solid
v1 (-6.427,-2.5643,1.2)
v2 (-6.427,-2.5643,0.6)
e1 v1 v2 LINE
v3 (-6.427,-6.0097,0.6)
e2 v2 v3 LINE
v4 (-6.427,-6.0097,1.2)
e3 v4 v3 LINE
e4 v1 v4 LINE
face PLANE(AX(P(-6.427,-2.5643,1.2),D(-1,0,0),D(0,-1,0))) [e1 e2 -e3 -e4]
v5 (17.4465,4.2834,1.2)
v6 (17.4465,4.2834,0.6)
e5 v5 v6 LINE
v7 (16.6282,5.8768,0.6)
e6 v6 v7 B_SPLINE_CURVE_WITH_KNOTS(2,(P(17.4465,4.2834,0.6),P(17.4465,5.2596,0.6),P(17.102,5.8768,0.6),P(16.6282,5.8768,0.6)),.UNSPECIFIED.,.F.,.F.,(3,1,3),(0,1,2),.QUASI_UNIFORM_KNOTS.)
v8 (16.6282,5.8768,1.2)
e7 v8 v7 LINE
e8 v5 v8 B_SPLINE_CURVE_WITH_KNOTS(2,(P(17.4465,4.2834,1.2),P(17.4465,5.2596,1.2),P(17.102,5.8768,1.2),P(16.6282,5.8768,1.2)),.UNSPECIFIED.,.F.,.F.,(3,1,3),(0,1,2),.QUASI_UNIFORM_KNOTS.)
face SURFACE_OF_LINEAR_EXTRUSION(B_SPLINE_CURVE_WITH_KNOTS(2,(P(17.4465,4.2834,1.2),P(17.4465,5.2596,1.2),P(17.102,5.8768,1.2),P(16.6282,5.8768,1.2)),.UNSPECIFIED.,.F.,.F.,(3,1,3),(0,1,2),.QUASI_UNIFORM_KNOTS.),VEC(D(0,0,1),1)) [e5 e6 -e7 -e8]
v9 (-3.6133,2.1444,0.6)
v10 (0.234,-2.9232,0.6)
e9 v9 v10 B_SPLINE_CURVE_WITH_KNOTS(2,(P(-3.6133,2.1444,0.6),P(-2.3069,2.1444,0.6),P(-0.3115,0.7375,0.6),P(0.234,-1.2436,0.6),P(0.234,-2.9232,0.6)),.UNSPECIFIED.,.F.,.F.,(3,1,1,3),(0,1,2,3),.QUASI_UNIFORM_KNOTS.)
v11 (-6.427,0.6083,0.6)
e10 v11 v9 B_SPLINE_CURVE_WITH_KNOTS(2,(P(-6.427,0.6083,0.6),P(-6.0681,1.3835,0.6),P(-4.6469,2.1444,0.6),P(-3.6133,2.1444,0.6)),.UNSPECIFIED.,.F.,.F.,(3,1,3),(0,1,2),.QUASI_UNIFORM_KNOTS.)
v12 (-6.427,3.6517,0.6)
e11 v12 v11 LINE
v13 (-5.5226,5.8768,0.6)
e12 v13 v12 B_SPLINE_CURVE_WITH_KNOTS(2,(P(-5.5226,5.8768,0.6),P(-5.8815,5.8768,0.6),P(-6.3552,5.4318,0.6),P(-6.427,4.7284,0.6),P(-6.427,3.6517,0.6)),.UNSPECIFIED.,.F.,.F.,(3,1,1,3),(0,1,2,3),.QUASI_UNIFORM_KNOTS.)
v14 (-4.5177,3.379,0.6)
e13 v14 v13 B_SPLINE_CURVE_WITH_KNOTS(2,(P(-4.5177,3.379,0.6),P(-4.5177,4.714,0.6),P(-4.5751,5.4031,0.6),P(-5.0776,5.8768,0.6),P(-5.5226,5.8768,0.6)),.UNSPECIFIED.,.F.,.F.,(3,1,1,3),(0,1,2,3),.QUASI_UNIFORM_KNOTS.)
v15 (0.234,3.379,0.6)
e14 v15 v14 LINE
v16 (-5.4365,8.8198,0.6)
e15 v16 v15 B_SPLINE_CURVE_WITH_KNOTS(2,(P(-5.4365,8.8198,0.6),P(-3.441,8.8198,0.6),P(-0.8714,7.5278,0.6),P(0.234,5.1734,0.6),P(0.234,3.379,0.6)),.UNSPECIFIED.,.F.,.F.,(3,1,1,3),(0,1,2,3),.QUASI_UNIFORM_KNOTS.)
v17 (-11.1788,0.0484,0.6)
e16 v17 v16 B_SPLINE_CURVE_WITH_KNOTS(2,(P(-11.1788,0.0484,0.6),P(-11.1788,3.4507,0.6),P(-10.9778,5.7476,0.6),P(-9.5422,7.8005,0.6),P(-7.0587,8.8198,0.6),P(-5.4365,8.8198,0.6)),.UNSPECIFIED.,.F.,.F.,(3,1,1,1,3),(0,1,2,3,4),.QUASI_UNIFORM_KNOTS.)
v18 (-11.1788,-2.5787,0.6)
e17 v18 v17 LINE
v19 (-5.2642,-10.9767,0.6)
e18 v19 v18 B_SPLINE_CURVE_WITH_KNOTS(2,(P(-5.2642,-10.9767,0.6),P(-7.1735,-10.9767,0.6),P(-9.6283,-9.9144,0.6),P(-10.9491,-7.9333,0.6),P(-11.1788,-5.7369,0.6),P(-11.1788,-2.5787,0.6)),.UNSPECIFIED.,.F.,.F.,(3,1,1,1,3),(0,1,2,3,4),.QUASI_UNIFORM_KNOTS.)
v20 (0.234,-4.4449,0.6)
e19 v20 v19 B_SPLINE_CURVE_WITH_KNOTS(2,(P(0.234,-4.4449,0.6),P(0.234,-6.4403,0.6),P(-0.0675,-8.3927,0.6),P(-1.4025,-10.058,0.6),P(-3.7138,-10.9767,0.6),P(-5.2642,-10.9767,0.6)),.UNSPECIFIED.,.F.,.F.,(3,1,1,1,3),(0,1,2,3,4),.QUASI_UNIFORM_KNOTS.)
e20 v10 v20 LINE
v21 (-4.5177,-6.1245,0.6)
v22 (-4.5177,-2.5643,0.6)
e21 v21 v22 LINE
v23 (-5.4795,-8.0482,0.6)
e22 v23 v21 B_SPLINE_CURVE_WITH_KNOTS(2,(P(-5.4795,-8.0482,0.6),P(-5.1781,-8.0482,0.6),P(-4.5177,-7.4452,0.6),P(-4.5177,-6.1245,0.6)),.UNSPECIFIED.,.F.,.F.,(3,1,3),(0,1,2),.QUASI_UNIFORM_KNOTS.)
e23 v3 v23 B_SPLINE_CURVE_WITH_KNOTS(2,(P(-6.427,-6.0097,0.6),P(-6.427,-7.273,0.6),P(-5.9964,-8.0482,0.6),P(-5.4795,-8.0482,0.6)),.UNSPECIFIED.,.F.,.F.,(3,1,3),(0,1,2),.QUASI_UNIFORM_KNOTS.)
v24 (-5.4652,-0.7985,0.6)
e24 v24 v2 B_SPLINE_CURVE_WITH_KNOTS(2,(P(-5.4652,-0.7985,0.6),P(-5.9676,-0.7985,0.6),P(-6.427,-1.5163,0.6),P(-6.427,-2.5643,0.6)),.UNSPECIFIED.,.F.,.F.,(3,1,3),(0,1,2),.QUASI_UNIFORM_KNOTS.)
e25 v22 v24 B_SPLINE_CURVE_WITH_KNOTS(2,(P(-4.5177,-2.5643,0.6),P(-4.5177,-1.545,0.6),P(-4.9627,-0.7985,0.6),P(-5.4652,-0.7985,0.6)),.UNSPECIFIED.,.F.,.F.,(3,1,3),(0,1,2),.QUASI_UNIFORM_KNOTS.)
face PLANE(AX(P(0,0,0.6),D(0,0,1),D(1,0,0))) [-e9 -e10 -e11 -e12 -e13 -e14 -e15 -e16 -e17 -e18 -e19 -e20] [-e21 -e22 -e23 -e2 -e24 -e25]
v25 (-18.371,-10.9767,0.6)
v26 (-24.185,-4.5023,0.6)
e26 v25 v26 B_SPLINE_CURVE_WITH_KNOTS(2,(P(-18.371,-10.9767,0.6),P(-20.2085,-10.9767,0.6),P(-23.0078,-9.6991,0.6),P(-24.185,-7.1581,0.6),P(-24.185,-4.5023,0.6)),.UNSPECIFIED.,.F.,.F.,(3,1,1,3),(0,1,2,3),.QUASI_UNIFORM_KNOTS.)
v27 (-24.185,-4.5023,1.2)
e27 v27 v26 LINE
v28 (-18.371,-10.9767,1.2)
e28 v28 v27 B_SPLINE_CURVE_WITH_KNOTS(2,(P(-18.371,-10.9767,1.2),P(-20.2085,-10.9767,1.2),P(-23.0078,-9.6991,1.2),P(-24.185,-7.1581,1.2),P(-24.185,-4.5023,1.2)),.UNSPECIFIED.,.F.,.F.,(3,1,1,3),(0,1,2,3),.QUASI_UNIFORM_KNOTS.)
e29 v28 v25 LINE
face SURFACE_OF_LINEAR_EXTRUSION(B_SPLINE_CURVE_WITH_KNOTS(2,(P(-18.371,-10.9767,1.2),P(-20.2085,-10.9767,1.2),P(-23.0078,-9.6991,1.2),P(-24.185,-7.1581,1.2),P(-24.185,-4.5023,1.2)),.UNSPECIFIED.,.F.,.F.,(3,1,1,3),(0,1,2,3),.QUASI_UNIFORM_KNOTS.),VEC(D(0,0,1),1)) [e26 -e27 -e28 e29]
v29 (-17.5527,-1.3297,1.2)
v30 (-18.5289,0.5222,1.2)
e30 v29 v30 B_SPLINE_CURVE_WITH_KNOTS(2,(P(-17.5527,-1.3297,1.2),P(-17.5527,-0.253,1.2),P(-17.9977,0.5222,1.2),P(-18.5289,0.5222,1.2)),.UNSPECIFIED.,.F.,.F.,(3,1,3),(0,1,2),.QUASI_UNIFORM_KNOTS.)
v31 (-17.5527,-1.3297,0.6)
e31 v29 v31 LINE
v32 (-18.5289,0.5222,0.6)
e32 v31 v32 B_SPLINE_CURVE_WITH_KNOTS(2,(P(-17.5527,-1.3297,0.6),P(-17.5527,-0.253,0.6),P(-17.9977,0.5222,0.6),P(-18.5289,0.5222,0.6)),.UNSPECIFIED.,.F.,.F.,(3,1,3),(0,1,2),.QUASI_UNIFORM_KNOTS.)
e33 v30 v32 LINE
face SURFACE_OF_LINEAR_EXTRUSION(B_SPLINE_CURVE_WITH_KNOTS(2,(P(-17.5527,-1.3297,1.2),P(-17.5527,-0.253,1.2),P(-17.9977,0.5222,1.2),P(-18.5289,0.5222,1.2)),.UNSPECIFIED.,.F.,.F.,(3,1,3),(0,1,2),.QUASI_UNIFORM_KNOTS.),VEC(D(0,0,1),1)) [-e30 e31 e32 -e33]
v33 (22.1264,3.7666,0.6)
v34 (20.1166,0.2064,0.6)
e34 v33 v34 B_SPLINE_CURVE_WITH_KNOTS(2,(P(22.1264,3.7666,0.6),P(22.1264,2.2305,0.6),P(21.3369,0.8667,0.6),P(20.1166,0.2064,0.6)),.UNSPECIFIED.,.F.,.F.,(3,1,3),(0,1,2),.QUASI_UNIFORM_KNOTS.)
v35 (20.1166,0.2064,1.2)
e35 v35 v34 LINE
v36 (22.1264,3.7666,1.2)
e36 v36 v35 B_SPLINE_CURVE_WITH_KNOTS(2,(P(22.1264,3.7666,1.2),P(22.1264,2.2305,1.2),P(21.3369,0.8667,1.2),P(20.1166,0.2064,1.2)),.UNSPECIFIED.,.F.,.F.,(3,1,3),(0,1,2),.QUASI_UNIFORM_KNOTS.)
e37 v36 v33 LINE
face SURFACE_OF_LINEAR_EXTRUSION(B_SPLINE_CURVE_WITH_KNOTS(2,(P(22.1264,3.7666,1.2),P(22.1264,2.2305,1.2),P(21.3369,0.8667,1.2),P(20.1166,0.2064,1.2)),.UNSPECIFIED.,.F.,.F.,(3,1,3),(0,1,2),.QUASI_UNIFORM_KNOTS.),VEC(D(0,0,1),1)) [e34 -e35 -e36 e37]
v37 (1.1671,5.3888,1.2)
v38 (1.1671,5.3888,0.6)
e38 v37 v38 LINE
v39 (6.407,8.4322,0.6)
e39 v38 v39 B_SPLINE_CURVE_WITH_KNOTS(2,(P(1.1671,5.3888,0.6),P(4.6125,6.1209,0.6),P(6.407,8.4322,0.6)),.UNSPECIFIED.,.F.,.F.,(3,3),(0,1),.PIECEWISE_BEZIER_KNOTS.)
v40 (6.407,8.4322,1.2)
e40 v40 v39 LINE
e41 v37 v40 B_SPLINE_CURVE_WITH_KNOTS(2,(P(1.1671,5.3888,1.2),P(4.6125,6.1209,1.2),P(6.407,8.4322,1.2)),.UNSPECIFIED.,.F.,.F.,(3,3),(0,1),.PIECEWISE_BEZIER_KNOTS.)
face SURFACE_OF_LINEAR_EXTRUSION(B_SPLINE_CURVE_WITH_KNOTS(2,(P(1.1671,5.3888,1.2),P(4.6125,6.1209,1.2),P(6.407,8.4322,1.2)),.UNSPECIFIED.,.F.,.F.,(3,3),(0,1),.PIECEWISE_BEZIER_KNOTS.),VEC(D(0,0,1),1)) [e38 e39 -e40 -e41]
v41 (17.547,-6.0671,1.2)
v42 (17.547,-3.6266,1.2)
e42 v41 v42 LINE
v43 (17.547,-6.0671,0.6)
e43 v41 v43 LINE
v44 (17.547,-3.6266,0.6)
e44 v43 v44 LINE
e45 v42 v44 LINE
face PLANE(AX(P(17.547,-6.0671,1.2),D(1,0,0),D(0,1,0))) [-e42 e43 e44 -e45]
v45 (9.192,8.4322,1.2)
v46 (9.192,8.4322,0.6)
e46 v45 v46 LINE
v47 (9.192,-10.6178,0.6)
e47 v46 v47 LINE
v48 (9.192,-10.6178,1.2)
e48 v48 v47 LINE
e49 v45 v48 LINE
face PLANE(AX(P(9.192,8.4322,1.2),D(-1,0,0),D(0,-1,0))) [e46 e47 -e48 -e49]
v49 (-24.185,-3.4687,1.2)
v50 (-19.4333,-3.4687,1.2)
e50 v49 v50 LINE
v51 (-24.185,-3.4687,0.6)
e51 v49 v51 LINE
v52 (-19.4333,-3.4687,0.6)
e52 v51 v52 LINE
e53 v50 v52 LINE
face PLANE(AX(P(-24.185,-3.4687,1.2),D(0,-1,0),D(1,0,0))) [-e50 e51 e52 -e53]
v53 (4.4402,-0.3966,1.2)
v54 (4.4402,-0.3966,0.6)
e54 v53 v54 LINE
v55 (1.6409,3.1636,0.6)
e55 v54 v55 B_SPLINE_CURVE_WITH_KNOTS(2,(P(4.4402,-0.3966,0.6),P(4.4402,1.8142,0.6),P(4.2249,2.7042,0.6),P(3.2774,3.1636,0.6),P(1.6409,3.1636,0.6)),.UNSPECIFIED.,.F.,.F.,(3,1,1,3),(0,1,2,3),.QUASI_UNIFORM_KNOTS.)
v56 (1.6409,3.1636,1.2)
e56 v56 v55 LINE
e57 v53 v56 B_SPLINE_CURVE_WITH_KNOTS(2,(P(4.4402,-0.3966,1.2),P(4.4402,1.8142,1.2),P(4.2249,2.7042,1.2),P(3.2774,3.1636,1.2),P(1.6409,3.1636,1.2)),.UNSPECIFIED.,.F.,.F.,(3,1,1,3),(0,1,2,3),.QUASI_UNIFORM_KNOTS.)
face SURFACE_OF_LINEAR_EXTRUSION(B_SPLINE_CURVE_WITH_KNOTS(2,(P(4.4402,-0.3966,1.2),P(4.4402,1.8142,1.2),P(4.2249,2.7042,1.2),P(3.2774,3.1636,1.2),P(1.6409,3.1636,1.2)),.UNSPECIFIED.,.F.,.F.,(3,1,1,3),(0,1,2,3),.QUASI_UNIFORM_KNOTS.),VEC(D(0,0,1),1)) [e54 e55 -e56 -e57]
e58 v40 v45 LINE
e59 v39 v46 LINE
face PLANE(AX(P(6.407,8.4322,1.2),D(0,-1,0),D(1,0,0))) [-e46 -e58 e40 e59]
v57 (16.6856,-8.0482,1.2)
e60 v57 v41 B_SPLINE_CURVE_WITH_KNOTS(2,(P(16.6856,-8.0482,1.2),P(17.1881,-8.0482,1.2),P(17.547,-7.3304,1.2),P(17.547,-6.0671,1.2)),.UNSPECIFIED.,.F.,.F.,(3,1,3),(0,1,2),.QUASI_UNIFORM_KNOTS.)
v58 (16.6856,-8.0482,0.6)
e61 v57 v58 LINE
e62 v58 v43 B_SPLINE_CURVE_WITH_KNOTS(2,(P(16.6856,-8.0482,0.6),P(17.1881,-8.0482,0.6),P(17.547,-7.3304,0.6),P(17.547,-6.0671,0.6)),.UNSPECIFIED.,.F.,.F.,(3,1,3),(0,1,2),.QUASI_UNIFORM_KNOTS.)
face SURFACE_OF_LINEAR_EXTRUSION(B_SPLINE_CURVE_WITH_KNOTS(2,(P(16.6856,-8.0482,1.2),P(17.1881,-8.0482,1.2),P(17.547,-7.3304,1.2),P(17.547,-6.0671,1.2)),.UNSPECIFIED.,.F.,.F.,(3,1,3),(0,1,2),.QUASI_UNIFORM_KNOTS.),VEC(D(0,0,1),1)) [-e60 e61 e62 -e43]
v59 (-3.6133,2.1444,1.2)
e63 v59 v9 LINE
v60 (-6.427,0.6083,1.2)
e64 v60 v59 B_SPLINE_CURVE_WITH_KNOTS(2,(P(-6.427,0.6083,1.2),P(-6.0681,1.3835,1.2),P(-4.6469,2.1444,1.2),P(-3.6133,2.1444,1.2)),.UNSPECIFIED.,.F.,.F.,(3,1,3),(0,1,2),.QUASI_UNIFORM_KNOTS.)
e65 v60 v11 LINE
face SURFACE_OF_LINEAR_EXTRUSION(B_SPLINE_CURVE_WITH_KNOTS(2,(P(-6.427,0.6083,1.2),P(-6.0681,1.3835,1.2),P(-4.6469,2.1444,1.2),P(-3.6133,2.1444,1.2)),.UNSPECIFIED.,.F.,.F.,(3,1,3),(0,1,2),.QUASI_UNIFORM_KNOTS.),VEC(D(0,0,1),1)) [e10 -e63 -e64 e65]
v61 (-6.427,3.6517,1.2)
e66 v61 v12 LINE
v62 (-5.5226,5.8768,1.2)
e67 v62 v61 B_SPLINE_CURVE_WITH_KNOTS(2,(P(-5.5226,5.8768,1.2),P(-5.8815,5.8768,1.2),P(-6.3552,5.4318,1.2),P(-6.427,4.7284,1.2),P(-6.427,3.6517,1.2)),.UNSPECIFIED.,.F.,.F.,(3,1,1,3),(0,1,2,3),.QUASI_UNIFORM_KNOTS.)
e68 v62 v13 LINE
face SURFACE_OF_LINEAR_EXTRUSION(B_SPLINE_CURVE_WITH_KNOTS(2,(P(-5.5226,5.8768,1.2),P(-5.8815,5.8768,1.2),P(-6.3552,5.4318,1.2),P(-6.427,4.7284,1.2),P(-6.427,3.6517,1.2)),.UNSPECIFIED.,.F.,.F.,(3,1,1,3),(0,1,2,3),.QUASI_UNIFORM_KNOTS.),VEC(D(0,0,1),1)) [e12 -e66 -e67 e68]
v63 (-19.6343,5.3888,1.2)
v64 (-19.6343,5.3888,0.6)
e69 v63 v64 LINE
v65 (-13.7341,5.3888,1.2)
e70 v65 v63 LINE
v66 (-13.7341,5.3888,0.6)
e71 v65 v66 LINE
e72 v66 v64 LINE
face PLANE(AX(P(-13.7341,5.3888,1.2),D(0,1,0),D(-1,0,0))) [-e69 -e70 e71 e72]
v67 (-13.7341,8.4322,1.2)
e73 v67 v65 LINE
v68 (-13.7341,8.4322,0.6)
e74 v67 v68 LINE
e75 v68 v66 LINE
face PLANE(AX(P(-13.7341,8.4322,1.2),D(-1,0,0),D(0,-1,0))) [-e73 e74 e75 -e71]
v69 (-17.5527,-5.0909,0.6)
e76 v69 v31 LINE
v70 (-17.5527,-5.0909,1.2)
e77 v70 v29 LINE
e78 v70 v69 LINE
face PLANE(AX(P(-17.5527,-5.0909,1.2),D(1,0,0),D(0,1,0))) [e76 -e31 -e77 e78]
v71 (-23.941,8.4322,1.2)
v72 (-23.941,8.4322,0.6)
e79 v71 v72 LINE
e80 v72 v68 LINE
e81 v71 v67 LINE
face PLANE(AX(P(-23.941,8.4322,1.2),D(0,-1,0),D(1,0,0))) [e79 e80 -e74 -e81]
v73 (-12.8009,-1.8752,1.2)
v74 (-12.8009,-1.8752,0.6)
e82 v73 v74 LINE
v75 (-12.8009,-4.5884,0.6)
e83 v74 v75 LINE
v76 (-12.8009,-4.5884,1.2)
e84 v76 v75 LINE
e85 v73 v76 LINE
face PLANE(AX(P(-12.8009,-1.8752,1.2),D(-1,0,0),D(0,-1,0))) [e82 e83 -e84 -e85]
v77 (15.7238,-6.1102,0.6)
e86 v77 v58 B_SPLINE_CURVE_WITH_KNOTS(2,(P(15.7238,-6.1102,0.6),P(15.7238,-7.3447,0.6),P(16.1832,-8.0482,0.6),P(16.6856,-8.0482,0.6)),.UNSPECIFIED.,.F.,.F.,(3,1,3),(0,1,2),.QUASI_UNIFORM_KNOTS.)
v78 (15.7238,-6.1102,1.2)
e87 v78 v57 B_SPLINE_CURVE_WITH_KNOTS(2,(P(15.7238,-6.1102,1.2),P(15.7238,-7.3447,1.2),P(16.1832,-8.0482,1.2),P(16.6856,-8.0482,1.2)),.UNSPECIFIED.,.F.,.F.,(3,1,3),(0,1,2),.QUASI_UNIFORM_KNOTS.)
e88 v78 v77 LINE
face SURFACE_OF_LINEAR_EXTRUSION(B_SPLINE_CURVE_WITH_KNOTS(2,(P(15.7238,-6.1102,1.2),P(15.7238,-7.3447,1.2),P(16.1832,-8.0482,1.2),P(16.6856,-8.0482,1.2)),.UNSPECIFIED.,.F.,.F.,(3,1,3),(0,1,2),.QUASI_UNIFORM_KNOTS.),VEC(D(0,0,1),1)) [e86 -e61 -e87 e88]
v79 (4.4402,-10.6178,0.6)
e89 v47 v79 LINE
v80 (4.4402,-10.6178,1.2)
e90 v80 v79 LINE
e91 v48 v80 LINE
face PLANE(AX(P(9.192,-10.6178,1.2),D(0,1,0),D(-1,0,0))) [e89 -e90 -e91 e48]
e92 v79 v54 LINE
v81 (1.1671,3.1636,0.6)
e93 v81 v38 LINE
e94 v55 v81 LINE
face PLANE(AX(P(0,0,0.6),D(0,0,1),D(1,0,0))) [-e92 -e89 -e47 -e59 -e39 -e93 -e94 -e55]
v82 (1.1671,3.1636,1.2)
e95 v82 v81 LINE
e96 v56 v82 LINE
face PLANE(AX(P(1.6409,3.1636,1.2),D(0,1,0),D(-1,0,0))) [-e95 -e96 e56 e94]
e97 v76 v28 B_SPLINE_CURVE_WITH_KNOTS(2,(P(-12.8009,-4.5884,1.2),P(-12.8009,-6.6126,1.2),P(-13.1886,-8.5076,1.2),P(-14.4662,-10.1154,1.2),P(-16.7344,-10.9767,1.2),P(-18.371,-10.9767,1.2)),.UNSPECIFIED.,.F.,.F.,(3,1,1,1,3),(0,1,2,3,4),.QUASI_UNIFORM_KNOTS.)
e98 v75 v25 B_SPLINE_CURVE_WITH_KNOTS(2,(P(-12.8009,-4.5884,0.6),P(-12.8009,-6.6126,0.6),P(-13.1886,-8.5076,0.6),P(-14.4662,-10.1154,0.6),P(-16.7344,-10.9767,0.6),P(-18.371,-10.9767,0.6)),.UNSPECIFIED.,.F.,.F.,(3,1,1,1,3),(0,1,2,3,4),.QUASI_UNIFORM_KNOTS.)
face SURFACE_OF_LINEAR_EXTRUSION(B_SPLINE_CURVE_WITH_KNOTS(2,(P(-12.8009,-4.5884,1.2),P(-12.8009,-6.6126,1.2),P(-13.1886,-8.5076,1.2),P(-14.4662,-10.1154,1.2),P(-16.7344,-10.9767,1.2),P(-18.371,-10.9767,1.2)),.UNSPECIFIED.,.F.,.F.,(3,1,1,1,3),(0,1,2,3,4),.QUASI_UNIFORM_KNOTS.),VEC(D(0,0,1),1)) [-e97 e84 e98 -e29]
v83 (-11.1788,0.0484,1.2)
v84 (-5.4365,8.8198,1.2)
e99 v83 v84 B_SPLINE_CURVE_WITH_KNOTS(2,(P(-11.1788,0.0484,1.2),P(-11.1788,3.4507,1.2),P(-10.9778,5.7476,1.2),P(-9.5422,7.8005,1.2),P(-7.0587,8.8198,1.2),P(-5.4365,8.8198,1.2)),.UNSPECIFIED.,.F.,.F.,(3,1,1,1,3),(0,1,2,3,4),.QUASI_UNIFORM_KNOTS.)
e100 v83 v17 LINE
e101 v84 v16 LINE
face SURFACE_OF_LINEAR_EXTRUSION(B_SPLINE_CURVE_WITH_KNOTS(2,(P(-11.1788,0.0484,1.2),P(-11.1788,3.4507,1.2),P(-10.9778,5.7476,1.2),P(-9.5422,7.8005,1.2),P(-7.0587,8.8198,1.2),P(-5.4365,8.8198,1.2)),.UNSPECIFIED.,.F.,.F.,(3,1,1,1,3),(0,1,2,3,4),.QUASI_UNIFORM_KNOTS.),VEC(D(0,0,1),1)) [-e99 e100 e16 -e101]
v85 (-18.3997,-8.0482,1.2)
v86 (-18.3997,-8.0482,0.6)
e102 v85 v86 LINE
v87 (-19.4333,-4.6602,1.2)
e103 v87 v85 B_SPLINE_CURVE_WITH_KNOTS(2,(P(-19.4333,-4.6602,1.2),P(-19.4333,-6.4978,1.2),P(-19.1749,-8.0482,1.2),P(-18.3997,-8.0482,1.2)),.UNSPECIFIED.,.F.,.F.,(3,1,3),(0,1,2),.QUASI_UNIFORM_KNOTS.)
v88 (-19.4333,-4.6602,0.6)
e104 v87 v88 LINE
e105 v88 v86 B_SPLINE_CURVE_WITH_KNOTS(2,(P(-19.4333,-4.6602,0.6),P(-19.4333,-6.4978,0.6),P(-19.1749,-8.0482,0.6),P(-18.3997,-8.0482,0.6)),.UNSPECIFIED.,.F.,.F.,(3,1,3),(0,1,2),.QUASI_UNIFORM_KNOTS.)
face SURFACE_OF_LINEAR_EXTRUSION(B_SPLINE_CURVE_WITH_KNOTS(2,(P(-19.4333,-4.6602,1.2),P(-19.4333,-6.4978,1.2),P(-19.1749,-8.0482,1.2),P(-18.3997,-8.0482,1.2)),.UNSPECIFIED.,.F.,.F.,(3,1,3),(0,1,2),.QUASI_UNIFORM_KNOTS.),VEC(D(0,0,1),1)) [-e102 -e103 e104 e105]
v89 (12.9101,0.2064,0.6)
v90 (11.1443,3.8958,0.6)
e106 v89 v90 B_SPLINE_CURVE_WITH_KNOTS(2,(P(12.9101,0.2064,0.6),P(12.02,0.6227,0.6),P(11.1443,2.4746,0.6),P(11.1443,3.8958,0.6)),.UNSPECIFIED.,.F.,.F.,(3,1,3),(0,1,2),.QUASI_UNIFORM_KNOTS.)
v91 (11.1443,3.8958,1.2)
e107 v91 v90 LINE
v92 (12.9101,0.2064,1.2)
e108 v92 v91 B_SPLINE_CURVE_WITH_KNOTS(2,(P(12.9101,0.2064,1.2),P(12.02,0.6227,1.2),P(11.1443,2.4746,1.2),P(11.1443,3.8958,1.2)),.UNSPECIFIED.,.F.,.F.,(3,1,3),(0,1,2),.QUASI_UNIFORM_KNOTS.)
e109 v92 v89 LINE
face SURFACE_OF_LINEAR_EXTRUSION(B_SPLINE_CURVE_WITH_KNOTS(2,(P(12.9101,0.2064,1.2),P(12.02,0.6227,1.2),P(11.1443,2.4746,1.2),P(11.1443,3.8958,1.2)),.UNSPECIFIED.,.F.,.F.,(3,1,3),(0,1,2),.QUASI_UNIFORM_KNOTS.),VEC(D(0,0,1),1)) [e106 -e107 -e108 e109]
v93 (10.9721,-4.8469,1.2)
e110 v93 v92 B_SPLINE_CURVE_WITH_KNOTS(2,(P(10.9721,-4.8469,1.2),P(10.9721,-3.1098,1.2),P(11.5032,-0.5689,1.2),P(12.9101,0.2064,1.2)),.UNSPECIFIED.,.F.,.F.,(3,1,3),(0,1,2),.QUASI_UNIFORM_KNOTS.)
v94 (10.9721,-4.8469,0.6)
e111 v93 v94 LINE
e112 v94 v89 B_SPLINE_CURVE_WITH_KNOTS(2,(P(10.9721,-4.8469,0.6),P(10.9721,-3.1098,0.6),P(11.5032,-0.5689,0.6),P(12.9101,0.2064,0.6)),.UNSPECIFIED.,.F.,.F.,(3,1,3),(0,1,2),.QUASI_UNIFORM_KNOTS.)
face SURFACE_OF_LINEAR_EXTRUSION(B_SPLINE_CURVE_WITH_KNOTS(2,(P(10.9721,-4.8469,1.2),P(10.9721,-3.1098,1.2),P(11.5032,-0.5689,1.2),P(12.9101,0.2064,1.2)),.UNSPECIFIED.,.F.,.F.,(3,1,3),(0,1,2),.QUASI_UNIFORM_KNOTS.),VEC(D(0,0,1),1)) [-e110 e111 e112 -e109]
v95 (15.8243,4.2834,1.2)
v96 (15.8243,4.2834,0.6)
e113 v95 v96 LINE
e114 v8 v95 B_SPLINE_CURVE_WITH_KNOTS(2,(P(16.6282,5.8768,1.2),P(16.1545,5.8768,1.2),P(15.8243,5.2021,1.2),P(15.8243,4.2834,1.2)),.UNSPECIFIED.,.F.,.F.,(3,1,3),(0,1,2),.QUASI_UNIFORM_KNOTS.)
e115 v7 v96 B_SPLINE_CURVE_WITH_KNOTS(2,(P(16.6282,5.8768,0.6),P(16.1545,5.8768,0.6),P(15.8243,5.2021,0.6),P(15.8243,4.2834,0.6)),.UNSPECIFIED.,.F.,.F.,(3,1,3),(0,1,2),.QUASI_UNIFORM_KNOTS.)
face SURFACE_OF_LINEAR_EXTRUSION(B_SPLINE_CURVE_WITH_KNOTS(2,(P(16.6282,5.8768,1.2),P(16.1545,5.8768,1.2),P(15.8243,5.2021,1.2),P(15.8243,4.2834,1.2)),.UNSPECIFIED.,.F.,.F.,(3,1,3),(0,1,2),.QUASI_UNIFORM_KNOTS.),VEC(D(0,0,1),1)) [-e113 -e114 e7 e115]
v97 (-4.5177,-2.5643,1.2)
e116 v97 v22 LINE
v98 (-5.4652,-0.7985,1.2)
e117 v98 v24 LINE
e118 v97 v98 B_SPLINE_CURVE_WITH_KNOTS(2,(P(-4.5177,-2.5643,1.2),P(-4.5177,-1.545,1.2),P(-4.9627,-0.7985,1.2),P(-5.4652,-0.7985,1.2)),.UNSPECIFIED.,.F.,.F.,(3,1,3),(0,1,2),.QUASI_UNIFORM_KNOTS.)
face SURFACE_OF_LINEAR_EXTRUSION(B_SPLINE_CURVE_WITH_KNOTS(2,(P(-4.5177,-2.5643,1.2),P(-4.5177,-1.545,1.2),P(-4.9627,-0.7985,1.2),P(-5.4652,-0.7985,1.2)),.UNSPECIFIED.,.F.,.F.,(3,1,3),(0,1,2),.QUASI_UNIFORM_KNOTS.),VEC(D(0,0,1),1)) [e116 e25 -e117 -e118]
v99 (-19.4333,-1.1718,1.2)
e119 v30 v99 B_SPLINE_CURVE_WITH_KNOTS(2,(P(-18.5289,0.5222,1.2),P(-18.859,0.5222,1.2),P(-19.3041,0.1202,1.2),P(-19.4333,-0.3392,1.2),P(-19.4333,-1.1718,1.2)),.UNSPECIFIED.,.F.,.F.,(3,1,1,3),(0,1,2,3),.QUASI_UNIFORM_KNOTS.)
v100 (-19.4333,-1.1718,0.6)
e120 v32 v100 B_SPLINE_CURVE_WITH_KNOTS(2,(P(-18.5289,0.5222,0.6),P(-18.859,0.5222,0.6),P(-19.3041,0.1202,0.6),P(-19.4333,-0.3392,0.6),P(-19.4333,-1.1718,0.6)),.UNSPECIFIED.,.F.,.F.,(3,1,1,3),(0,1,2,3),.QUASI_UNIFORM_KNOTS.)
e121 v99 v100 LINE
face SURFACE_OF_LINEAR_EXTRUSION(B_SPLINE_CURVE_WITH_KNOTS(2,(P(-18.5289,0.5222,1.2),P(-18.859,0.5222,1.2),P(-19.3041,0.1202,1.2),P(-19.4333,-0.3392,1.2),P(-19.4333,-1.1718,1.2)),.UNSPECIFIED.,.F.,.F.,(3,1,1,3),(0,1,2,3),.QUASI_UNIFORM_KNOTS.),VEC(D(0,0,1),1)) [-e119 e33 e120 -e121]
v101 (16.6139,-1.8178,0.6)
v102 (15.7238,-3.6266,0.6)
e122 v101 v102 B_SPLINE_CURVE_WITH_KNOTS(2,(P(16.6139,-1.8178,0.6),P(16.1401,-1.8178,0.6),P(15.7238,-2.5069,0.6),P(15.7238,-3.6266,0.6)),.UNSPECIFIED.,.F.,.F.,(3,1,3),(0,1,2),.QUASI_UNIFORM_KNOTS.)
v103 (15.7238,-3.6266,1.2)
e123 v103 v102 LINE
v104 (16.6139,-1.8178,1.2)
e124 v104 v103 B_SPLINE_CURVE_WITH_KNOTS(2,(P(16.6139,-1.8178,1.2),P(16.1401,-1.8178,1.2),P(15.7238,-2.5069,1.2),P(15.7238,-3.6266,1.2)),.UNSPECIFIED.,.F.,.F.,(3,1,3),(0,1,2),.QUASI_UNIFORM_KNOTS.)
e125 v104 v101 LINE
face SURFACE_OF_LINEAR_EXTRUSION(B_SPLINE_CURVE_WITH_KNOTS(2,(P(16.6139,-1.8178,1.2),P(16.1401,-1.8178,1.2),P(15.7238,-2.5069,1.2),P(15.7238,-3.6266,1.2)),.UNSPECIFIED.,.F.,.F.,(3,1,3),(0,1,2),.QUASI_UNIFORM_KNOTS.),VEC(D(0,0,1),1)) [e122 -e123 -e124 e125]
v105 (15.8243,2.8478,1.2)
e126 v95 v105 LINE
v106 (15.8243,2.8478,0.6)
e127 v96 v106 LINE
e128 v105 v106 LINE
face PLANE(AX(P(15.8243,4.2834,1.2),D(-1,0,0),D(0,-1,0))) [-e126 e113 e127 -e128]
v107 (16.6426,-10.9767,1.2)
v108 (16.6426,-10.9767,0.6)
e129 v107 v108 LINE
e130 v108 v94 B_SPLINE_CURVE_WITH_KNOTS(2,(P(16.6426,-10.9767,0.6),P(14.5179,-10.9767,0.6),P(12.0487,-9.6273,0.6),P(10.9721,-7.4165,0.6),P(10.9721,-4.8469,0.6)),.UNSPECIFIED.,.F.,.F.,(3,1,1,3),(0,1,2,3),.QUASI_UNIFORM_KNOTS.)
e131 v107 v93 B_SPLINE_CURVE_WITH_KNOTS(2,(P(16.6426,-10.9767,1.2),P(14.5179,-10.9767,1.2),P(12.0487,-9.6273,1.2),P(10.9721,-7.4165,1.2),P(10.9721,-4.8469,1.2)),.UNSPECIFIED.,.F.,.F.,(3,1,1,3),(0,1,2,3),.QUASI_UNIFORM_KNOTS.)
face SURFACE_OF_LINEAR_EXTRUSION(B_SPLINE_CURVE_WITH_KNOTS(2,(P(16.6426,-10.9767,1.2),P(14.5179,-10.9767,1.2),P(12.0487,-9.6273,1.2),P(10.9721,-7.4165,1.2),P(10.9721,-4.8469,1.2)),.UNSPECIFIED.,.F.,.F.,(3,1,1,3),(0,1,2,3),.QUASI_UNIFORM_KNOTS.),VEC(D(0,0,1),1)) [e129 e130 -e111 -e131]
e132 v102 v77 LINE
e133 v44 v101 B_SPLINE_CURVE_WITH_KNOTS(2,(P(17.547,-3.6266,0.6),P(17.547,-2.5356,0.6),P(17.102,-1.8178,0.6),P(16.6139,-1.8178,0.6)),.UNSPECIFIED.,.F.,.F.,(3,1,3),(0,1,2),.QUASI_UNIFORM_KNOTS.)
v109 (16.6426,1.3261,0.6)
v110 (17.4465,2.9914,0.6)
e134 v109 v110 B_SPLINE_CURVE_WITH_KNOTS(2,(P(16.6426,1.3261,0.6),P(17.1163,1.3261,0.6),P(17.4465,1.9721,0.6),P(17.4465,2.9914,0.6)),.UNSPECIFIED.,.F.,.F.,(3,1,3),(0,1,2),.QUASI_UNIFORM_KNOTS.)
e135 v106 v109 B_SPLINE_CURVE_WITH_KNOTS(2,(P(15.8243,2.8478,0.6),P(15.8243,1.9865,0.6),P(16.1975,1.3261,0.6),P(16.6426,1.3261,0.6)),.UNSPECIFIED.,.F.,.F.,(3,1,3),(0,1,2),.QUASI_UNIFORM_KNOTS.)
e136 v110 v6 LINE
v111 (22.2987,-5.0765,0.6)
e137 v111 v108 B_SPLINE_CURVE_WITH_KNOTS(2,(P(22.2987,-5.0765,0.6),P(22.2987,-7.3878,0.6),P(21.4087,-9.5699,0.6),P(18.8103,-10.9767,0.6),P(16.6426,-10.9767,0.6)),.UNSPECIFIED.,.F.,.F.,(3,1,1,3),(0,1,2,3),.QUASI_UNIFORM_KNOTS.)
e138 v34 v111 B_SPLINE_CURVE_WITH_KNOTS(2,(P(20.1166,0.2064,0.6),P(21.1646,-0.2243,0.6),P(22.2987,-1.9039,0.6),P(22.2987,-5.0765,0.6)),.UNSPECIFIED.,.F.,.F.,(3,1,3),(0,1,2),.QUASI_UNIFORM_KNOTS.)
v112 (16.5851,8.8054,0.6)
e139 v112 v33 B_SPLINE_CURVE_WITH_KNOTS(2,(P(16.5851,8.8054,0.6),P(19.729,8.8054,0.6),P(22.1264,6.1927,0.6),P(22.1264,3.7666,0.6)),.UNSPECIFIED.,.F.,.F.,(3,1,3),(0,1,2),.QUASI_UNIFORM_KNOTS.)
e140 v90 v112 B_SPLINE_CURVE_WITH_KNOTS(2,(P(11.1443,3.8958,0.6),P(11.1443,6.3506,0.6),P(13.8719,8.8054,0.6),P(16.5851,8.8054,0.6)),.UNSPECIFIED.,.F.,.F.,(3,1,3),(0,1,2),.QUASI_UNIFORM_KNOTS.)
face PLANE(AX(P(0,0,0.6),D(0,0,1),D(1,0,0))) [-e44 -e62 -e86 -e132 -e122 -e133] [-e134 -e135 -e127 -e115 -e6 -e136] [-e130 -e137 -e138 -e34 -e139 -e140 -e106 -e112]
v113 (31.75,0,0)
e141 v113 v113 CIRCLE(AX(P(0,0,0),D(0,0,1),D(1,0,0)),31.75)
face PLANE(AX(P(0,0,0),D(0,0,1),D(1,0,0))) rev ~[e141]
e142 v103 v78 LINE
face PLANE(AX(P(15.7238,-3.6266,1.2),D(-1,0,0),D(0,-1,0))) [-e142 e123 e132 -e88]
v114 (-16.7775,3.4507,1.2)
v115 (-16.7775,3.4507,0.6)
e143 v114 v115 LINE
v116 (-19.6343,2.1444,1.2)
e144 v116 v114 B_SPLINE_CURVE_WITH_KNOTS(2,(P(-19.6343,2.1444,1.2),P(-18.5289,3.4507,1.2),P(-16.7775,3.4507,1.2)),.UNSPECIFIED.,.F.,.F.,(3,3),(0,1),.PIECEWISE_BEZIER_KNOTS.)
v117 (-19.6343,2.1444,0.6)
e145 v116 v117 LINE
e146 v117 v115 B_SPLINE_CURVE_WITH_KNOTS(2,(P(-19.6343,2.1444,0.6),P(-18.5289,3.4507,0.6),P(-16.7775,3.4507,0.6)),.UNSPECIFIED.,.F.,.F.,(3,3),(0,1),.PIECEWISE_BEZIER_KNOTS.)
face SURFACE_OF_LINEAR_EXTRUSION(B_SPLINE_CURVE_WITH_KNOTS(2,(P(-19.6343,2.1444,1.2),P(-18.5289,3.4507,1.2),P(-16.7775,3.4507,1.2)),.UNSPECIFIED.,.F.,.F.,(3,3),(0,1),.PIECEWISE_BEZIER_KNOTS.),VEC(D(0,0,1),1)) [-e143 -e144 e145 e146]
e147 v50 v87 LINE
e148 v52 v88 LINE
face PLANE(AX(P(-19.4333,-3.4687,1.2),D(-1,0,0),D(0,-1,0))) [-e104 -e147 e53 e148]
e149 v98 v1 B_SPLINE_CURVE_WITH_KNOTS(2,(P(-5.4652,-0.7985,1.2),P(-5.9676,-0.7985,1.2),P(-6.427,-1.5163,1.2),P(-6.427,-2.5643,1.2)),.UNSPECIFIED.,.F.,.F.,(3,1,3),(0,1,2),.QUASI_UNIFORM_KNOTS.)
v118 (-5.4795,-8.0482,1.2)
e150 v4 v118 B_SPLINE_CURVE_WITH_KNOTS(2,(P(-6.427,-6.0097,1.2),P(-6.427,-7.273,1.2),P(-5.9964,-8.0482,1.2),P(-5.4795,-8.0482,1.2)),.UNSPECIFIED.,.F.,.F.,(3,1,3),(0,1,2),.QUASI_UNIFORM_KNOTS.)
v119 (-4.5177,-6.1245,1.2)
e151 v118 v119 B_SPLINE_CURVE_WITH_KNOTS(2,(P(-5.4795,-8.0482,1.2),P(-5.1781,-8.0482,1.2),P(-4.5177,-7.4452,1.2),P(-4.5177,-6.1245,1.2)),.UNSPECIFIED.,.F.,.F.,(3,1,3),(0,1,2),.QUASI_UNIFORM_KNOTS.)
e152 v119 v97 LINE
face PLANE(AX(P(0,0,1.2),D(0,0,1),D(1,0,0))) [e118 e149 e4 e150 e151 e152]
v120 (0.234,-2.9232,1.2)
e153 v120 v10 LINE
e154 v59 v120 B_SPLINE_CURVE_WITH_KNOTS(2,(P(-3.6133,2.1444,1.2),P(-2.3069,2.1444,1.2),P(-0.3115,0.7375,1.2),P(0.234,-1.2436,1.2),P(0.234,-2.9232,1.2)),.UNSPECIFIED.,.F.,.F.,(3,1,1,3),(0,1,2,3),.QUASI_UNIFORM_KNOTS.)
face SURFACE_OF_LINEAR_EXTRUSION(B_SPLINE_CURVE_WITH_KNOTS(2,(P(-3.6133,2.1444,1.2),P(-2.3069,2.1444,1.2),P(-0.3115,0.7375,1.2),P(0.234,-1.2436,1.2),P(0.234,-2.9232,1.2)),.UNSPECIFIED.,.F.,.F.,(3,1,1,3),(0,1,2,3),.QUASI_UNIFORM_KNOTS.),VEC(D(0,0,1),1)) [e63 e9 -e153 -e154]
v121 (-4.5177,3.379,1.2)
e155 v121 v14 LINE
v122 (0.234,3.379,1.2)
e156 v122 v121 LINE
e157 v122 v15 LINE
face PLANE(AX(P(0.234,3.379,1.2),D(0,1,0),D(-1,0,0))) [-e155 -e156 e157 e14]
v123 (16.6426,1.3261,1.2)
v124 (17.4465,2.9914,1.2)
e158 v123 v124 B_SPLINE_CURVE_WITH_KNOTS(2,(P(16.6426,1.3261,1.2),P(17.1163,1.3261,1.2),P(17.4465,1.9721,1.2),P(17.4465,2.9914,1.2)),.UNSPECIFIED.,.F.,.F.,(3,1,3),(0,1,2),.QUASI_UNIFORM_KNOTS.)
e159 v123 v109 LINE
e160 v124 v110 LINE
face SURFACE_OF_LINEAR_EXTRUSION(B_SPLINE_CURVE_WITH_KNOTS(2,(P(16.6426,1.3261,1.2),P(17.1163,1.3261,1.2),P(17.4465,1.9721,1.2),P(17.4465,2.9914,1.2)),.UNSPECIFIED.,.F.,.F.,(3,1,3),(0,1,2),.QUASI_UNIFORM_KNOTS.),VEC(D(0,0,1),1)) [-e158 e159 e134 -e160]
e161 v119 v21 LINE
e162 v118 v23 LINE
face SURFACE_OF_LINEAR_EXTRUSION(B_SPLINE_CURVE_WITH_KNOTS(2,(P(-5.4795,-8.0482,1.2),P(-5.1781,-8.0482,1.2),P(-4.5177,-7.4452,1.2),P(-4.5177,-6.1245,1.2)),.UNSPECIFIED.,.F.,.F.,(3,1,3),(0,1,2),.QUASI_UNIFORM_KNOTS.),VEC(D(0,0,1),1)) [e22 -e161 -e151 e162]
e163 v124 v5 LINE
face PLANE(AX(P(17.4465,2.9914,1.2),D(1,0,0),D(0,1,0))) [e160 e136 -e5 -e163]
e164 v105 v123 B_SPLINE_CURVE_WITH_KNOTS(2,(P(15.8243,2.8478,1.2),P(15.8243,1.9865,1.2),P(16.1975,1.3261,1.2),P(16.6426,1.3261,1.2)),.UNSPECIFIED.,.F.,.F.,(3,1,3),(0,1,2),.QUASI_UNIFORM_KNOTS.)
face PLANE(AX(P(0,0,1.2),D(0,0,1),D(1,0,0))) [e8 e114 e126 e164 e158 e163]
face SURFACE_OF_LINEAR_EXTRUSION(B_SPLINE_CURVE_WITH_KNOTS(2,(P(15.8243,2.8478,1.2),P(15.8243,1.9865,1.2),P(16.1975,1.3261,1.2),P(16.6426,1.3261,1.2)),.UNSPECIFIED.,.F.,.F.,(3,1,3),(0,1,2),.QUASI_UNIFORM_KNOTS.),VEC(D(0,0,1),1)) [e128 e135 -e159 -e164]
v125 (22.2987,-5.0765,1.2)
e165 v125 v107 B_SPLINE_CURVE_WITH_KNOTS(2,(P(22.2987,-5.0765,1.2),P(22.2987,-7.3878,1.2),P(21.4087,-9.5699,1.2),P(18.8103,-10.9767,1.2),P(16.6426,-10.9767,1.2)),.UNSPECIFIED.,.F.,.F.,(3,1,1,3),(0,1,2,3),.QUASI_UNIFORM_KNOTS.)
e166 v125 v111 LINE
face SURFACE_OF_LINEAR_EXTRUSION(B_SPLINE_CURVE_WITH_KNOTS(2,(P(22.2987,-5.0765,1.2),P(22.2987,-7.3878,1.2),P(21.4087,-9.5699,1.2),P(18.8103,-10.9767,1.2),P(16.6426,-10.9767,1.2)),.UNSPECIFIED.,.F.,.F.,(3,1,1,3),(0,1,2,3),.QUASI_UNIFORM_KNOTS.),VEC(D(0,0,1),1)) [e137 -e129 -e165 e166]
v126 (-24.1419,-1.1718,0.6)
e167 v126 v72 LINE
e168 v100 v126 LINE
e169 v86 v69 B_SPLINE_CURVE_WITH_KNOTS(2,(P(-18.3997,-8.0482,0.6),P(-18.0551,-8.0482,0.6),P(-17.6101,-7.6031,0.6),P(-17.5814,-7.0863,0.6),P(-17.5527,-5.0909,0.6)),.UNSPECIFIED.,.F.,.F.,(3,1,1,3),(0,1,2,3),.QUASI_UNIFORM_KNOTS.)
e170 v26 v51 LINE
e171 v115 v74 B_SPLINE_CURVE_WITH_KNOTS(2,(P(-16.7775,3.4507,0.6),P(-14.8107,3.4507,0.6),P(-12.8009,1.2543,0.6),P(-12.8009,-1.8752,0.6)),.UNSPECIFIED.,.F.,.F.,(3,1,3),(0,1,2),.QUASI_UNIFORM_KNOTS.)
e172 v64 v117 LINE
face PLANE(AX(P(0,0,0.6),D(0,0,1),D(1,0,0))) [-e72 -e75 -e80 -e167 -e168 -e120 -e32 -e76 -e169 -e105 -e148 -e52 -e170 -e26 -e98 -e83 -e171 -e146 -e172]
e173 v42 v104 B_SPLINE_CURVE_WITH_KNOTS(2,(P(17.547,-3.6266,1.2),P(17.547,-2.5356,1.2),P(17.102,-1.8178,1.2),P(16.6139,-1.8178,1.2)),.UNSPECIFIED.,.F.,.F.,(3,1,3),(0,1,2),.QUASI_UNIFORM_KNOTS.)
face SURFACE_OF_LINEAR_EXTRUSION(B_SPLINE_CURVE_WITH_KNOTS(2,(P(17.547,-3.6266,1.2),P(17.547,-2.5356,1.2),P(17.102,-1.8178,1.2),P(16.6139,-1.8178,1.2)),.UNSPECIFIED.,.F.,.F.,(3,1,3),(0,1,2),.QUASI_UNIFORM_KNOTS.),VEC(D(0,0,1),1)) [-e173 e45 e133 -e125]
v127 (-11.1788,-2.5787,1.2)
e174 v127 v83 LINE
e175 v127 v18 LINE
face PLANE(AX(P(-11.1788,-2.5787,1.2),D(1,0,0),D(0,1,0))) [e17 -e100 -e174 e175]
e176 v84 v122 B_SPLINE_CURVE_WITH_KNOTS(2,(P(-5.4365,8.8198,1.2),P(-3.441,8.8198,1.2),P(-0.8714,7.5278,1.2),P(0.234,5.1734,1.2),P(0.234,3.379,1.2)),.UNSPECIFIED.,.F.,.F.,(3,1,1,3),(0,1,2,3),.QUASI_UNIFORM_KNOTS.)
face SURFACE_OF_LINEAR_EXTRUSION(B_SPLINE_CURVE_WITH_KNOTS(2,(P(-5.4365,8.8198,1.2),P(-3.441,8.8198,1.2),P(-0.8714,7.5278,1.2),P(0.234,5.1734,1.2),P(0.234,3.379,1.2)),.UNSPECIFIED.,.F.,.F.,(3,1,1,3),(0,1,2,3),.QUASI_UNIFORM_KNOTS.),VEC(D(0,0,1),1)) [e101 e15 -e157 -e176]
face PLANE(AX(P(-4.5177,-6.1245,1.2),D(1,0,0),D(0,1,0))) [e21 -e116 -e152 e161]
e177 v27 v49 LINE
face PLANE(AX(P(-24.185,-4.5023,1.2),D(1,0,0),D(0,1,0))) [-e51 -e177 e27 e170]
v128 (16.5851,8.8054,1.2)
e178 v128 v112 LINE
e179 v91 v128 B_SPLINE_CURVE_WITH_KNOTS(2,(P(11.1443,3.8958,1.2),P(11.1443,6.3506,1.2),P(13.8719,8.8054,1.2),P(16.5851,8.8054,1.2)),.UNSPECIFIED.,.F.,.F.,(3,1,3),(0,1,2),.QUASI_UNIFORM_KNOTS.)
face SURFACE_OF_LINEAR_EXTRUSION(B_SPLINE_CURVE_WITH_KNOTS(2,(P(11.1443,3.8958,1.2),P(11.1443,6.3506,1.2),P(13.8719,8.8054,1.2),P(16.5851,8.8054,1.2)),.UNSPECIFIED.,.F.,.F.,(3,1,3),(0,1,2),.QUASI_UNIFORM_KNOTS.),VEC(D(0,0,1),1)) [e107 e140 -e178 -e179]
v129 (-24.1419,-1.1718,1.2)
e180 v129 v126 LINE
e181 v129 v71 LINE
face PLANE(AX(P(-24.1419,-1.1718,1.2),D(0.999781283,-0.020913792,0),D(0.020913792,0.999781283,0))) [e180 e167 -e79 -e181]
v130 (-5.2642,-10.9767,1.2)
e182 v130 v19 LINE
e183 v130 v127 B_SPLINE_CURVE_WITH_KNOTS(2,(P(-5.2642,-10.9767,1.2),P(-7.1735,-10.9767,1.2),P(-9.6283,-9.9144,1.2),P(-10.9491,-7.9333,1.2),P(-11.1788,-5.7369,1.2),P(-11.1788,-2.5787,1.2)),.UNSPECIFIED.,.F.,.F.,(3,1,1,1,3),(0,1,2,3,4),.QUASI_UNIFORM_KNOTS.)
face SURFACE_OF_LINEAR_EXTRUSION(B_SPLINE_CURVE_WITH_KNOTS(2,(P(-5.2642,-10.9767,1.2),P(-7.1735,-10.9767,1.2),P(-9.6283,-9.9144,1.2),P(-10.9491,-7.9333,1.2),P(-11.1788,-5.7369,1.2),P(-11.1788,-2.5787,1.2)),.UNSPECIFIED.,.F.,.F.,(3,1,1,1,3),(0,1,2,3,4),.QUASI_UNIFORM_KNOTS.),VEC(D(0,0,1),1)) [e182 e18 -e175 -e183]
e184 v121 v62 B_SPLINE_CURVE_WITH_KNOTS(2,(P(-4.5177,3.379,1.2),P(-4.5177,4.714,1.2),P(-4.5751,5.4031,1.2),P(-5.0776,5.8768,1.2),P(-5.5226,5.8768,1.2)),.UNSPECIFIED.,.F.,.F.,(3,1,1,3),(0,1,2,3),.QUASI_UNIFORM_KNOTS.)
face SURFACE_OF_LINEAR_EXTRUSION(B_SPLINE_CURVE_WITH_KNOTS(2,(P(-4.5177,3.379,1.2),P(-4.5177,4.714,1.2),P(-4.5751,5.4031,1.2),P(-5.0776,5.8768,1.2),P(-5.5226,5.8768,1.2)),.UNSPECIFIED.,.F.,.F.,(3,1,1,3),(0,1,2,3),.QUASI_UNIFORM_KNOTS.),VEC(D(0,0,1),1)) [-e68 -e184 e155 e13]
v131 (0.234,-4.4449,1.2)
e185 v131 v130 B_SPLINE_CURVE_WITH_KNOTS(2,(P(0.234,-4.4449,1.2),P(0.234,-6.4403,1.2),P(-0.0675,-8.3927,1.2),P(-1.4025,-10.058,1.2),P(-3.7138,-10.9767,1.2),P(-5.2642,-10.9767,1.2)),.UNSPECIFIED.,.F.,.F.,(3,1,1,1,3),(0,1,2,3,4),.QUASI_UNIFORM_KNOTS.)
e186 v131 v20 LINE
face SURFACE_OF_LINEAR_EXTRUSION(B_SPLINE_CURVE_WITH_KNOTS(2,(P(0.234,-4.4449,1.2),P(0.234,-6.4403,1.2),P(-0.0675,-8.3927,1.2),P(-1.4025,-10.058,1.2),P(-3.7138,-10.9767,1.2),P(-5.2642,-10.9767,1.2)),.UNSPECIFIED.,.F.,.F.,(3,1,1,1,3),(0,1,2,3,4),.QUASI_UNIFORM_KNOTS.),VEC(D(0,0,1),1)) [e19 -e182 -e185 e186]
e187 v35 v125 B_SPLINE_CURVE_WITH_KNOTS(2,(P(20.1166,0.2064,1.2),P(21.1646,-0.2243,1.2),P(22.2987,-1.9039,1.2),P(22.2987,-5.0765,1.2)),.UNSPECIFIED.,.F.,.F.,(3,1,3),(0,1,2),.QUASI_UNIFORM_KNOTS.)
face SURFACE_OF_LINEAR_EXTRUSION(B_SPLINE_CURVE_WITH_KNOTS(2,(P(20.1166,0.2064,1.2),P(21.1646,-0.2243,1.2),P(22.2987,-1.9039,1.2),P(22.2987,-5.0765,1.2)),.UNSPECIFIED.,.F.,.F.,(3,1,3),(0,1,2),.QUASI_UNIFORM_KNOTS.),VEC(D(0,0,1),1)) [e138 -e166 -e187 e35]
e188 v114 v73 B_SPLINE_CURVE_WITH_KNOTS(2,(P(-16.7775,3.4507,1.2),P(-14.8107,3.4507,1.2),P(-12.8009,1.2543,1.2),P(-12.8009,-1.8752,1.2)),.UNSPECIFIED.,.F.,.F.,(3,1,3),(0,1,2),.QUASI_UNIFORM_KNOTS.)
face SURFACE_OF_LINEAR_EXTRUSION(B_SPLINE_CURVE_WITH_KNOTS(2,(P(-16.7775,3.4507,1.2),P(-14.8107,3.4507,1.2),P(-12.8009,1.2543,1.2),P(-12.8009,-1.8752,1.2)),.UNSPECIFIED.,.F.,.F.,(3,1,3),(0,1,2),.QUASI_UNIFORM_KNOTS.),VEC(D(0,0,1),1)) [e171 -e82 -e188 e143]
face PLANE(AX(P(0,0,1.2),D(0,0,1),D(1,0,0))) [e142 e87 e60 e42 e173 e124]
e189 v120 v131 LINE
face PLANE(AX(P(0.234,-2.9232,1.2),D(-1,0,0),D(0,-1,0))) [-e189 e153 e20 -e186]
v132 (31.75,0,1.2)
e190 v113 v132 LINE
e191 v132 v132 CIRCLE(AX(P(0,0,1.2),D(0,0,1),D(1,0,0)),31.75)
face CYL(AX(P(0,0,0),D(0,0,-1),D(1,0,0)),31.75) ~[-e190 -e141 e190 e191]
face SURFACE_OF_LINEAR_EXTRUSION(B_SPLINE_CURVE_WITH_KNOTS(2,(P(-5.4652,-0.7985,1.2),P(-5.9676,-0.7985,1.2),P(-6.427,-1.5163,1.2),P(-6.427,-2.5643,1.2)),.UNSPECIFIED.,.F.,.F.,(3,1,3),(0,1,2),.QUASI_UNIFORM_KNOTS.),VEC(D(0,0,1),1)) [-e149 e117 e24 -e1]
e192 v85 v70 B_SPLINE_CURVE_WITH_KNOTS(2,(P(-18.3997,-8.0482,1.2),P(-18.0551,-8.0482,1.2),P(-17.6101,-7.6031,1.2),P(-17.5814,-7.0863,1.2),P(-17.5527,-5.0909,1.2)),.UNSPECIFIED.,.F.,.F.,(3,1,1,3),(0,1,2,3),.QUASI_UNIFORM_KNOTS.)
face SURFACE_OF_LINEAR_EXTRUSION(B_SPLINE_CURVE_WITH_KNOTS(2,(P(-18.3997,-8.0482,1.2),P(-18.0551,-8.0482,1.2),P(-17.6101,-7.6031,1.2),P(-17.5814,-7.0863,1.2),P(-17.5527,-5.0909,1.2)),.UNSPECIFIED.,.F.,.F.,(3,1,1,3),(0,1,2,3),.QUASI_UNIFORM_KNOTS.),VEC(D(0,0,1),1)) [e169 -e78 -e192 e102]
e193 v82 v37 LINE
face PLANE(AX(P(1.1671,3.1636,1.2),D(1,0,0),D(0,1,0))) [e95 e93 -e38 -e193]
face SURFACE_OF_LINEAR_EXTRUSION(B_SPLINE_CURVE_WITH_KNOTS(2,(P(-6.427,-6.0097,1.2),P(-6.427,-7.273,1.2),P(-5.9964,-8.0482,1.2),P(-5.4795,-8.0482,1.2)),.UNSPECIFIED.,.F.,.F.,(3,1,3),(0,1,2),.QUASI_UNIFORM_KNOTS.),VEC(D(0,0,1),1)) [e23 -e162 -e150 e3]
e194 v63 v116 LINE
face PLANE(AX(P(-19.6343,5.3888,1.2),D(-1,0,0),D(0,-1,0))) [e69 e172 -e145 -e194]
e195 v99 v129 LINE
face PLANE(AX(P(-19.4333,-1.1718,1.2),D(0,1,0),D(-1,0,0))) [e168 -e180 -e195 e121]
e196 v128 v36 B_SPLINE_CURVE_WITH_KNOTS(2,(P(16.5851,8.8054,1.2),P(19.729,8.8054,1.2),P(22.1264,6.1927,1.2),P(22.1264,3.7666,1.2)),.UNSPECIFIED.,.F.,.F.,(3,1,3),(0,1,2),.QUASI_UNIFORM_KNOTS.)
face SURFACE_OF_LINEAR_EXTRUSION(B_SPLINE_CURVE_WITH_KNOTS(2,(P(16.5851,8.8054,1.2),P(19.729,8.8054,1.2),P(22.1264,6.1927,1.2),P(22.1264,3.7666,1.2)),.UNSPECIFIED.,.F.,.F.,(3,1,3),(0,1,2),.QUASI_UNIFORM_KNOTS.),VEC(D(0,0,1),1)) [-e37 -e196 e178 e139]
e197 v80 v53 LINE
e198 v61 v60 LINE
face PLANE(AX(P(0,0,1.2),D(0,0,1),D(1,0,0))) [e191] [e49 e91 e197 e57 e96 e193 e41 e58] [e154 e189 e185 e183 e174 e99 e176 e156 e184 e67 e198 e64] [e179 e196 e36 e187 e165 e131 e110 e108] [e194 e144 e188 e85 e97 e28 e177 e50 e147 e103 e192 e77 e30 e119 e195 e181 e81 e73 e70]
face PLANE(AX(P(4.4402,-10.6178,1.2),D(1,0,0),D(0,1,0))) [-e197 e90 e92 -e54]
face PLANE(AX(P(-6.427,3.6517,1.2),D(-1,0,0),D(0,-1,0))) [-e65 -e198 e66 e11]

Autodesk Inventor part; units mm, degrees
ref_plane "YZ Plane" through (0, 0, 0) normal (1, 0, 0) x (0, 1, 0)
ref_plane "XZ Plane" through (0, 0, 0) normal (0, 1, 0) x (-1, 0, 0)
ref_plane "XY Plane" through (0, 0, 0) normal (0, 0, 1) x (1, 0, 0)
sketch "Sketch1" plane through (0, 0, 0) normal (0, 0, 1) x (1, 0, 0)
  circle A0 centre (0, 0) radius 31.75
  line L0 (-24.9602, 8.8198) -> (23.1368, 8.8198) construction
  line L1 (23.1368, 8.8198) -> (23.1368, -14.9885) construction
  line L2 (23.1368, -14.9885) -> (-24.9602, -14.9885) construction
  line L3 (-24.9602, -14.9885) -> (-24.9602, 8.8198) construction
  line L4 (-13.7341, 8.4322) -> (-13.7341, 5.3888)
  line L5 (-13.7341, 5.3888) -> (-19.6343, 5.3888)
  line L6 (-19.6343, 5.3888) -> (-19.6343, 2.1444)
  spline S0 degree 2 poles (-19.6343, 2.1444) (-18.5289, 3.4507) (-16.7775, 3.4507) knots 0 0 0 1 1 1
  spline S1 degree 2 poles (-16.7775, 3.4507) (-14.8107, 3.4507) (-12.8009, 1.2543) (-12.8009, -1.8752) knots 0 0 0 1 2 2 2
  line L7 (-12.8009, -1.8752) -> (-12.8009, -4.5884)
  spline S2 degree 2 poles (-12.8009, -4.5884) (-12.8009, -6.6126) (-13.1886, -8.5076) (-14.4662, -10.1154) (-16.7344, -10.9767) (-18.371, -10.9767) knots 0 0 0 1 2 3 4 4 4
  spline S3 degree 2 poles (-18.371, -10.9767) (-20.2085, -10.9767) (-23.0078, -9.6991) (-24.185, -7.1581) (-24.185, -4.5023) knots 0 0 0 1 2 3 3 3
  line L8 (-24.185, -4.5023) -> (-24.185, -3.4687)
  line L9 (-24.185, -3.4687) -> (-19.4333, -3.4687)
  line L10 (-19.4333, -3.4687) -> (-19.4333, -4.6602)
  spline S4 degree 2 poles (-19.4333, -4.6602) (-19.4333, -6.4978) (-19.1749, -8.0482) (-18.3997, -8.0482) knots 0 0 0 1 2 2 2
  spline S5 degree 2 poles (-18.3997, -8.0482) (-18.0551, -8.0482) (-17.6101, -7.6031) (-17.5814, -7.0863) (-17.5527, -5.0909) knots 0 0 0 1 2 3 3 3
  line L11 (-17.5527, -5.0909) -> (-17.5527, -1.3297)
  spline S6 degree 2 poles (-17.5527, -1.3297) (-17.5527, -0.253) (-17.9977, 0.5222) (-18.5289, 0.5222) knots 0 0 0 1 2 2 2
  spline S7 degree 2 poles (-18.5289, 0.5222) (-18.859, 0.5222) (-19.3041, 0.1202) (-19.4333, -0.3392) (-19.4333, -1.1718) knots 0 0 0 1 2 3 3 3
  line L12 (-19.4333, -1.1718) -> (-24.1419, -1.1718)
  line L13 (-24.1419, -1.1718) -> (-23.941, 8.4322)
  line L14 (-23.941, 8.4322) -> (-13.7341, 8.4322)
  line L15 (0.234, 3.379) -> (-4.5177, 3.379)
  spline S8 degree 2 poles (-4.5177, 3.379) (-4.5177, 4.714) (-4.5751, 5.4031) (-5.0776, 5.8768) (-5.5226, 5.8768) knots 0 0 0 1 2 3 3 3
  spline S9 degree 2 poles (-5.5226, 5.8768) (-5.8815, 5.8768) (-6.3552, 5.4318) (-6.427, 4.7284) (-6.427, 3.6517) knots 0 0 0 1 2 3 3 3
  line L16 (-6.427, 3.6517) -> (-6.427, 0.6083)
  spline S10 degree 2 poles (-6.427, 0.6083) (-6.0681, 1.3835) (-4.6469, 2.1444) (-3.6133, 2.1444) knots 0 0 0 1 2 2 2
  spline S11 degree 2 poles (-3.6133, 2.1444) (-2.3069, 2.1444) (-0.3115, 0.7375) (0.234, -1.2436) (0.234, -2.9232) knots 0 0 0 1 2 3 3 3
  line L17 (0.234, -2.9232) -> (0.234, -4.4449)
  spline S12 degree 2 poles (0.234, -4.4449) (0.234, -6.4403) (-0.0675, -8.3927) (-1.4025, -10.058) (-3.7138, -10.9767) (-5.2642, -10.9767) knots 0 0 0 1 2 3 4 4 4
  spline S13 degree 2 poles (-5.2642, -10.9767) (-7.1735, -10.9767) (-9.6283, -9.9144) (-10.9491, -7.9333) (-11.1788, -5.7369) (-11.1788, -2.5787) knots 0 0 0 1 2 3 4 4 4
  line L18 (-11.1788, -2.5787) -> (-11.1788, 0.0484)
  spline S14 degree 2 poles (-11.1788, 0.0484) (-11.1788, 3.4507) (-10.9778, 5.7476) (-9.5422, 7.8005) (-7.0587, 8.8198) (-5.4365, 8.8198) knots 0 0 0 1 2 3 4 4 4
  spline S15 degree 2 poles (-5.4365, 8.8198) (-3.441, 8.8198) (-0.8714, 7.5278) (0.234, 5.1734) (0.234, 3.379) knots 0 0 0 1 2 3 3 3
  spline S16 degree 2 poles (-4.5177, -2.5643) (-4.5177, -1.545) (-4.9627, -0.7985) (-5.4652, -0.7985) knots 0 0 0 1 2 2 2
  spline S17 degree 2 poles (-5.4652, -0.7985) (-5.9676, -0.7985) (-6.427, -1.5163) (-6.427, -2.5643) knots 0 0 0 1 2 2 2
  line L19 (-6.427, -2.5643) -> (-6.427, -6.0097)
  spline S18 degree 2 poles (-6.427, -6.0097) (-6.427, -7.273) (-5.9964, -8.0482) (-5.4795, -8.0482) knots 0 0 0 1 2 2 2
  spline S19 degree 2 poles (-5.4795, -8.0482) (-5.1781, -8.0482) (-4.5177, -7.4452) (-4.5177, -6.1245) knots 0 0 0 1 2 2 2
  line L20 (-4.5177, -6.1245) -> (-4.5177, -2.5643)
  line L21 (9.192, 8.4322) -> (9.192, -10.6178)
  line L22 (9.192, -10.6178) -> (4.4402, -10.6178)
  line L23 (4.4402, -10.6178) -> (4.4402, -0.3966)
  spline S20 degree 2 poles (4.4402, -0.3966) (4.4402, 1.8142) (4.2249, 2.7042) (3.2774, 3.1636) (1.6409, 3.1636) knots 0 0 0 1 2 3 3 3
  line L24 (1.6409, 3.1636) -> (1.1671, 3.1636)
  line L25 (1.1671, 3.1636) -> (1.1671, 5.3888)
  spline S21 degree 2 poles (1.1671, 5.3888) (4.6125, 6.1209) (6.407, 8.4322) knots 0 0 0 1 1 1
  line L26 (6.407, 8.4322) -> (9.192, 8.4322)
  spline S22 degree 2 poles (20.1166, 0.2064) (21.1646, -0.2243) (22.2987, -1.9039) (22.2987, -5.0765) knots 0 0 0 1 2 2 2
  spline S23 degree 2 poles (22.2987, -5.0765) (22.2987, -7.3878) (21.4087, -9.5699) (18.8103, -10.9767) (16.6426, -10.9767) knots 0 0 0 1 2 3 3 3
  spline S24 degree 2 poles (16.6426, -10.9767) (14.5179, -10.9767) (12.0487, -9.6273) (10.9721, -7.4165) (10.9721, -4.8469) knots 0 0 0 1 2 3 3 3
  spline S25 degree 2 poles (10.9721, -4.8469) (10.9721, -3.1098) (11.5032, -0.5689) (12.9101, 0.2064) knots 0 0 0 1 2 2 2
  spline S26 degree 2 poles (12.9101, 0.2064) (12.02, 0.6227) (11.1443, 2.4746) (11.1443, 3.8958) knots 0 0 0 1 2 2 2
  spline S27 degree 2 poles (11.1443, 3.8958) (11.1443, 6.3506) (13.8719, 8.8054) (16.5851, 8.8054) knots 0 0 0 1 2 2 2
  spline S28 degree 2 poles (16.5851, 8.8054) (19.729, 8.8054) (22.1264, 6.1927) (22.1264, 3.7666) knots 0 0 0 1 2 2 2
  spline S29 degree 2 poles (22.1264, 3.7666) (22.1264, 2.2305) (21.3369, 0.8667) (20.1166, 0.2064) knots 0 0 0 1 2 2 2
  spline S30 degree 2 poles (17.547, -3.6266) (17.547, -2.5356) (17.102, -1.8178) (16.6139, -1.8178) knots 0 0 0 1 2 2 2
  spline S31 degree 2 poles (16.6139, -1.8178) (16.1401, -1.8178) (15.7238, -2.5069) (15.7238, -3.6266) knots 0 0 0 1 2 2 2
  line L27 (15.7238, -3.6266) -> (15.7238, -6.1102)
  spline S32 degree 2 poles (15.7238, -6.1102) (15.7238, -7.3447) (16.1832, -8.0482) (16.6856, -8.0482) knots 0 0 0 1 2 2 2
  spline S33 degree 2 poles (16.6856, -8.0482) (17.1881, -8.0482) (17.547, -7.3304) (17.547, -6.0671) knots 0 0 0 1 2 2 2
  line L28 (17.547, -6.0671) -> (17.547, -3.6266)
  spline S34 degree 2 poles (17.4465, 4.2834) (17.4465, 5.2596) (17.102, 5.8768) (16.6282, 5.8768) knots 0 0 0 1 2 2 2
  spline S35 degree 2 poles (16.6282, 5.8768) (16.1545, 5.8768) (15.8243, 5.2021) (15.8243, 4.2834) knots 0 0 0 1 2 2 2
  line L29 (15.8243, 4.2834) -> (15.8243, 2.8478)
  spline S36 degree 2 poles (15.8243, 2.8478) (15.8243, 1.9865) (16.1975, 1.3261) (16.6426, 1.3261) knots 0 0 0 1 2 2 2
  spline S37 degree 2 poles (16.6426, 1.3261) (17.1163, 1.3261) (17.4465, 1.9721) (17.4465, 2.9914) knots 0 0 0 1 2 2 2
  line L30 (17.4465, 2.9914) -> (17.4465, 4.2834)
  dimension "d0" = 63.5
extrude "Extrusion1" add sketch "Sketch1" along normal blind 1.2 contours A0 | L4 L5 L6 S0 S1 L7 S2 S3 L8 L9 L10 S4 S5 L11 S6 S7 L12 L13 L14 | L15 S8 S9 L16 S10 S11 L17 S12 S13 L18 S14 S15 | L20 S19 S18 L19 S17 S16 | L21 L22 L23 S20 L24 L25 S21 L26 | S22 S23 S24 S25 S26 S27 S28 S29 | L28 S33 S32 L27 S31 S30 | L30 S37 S36 L29 S35 S34
extrude "Extrusion2" cut sketch "Sketch1" against normal blind 0.6 from surface at 1.2 contours L4 L5 L6 S0 S1 L7 S2 S3 L8 L9 L10 S4 S5 L11 S6 S7 L12 L13 L14 | L15 S8 S9 L16 S10 S11 L17 S12 S13 L18 S14 S15 | L21 L22 L23 S20 L24 L25 S21 L26 | S22 S23 S24 S25 S26 S27 S28 S29
properties part number "Blue Alliance Marker 5618"
